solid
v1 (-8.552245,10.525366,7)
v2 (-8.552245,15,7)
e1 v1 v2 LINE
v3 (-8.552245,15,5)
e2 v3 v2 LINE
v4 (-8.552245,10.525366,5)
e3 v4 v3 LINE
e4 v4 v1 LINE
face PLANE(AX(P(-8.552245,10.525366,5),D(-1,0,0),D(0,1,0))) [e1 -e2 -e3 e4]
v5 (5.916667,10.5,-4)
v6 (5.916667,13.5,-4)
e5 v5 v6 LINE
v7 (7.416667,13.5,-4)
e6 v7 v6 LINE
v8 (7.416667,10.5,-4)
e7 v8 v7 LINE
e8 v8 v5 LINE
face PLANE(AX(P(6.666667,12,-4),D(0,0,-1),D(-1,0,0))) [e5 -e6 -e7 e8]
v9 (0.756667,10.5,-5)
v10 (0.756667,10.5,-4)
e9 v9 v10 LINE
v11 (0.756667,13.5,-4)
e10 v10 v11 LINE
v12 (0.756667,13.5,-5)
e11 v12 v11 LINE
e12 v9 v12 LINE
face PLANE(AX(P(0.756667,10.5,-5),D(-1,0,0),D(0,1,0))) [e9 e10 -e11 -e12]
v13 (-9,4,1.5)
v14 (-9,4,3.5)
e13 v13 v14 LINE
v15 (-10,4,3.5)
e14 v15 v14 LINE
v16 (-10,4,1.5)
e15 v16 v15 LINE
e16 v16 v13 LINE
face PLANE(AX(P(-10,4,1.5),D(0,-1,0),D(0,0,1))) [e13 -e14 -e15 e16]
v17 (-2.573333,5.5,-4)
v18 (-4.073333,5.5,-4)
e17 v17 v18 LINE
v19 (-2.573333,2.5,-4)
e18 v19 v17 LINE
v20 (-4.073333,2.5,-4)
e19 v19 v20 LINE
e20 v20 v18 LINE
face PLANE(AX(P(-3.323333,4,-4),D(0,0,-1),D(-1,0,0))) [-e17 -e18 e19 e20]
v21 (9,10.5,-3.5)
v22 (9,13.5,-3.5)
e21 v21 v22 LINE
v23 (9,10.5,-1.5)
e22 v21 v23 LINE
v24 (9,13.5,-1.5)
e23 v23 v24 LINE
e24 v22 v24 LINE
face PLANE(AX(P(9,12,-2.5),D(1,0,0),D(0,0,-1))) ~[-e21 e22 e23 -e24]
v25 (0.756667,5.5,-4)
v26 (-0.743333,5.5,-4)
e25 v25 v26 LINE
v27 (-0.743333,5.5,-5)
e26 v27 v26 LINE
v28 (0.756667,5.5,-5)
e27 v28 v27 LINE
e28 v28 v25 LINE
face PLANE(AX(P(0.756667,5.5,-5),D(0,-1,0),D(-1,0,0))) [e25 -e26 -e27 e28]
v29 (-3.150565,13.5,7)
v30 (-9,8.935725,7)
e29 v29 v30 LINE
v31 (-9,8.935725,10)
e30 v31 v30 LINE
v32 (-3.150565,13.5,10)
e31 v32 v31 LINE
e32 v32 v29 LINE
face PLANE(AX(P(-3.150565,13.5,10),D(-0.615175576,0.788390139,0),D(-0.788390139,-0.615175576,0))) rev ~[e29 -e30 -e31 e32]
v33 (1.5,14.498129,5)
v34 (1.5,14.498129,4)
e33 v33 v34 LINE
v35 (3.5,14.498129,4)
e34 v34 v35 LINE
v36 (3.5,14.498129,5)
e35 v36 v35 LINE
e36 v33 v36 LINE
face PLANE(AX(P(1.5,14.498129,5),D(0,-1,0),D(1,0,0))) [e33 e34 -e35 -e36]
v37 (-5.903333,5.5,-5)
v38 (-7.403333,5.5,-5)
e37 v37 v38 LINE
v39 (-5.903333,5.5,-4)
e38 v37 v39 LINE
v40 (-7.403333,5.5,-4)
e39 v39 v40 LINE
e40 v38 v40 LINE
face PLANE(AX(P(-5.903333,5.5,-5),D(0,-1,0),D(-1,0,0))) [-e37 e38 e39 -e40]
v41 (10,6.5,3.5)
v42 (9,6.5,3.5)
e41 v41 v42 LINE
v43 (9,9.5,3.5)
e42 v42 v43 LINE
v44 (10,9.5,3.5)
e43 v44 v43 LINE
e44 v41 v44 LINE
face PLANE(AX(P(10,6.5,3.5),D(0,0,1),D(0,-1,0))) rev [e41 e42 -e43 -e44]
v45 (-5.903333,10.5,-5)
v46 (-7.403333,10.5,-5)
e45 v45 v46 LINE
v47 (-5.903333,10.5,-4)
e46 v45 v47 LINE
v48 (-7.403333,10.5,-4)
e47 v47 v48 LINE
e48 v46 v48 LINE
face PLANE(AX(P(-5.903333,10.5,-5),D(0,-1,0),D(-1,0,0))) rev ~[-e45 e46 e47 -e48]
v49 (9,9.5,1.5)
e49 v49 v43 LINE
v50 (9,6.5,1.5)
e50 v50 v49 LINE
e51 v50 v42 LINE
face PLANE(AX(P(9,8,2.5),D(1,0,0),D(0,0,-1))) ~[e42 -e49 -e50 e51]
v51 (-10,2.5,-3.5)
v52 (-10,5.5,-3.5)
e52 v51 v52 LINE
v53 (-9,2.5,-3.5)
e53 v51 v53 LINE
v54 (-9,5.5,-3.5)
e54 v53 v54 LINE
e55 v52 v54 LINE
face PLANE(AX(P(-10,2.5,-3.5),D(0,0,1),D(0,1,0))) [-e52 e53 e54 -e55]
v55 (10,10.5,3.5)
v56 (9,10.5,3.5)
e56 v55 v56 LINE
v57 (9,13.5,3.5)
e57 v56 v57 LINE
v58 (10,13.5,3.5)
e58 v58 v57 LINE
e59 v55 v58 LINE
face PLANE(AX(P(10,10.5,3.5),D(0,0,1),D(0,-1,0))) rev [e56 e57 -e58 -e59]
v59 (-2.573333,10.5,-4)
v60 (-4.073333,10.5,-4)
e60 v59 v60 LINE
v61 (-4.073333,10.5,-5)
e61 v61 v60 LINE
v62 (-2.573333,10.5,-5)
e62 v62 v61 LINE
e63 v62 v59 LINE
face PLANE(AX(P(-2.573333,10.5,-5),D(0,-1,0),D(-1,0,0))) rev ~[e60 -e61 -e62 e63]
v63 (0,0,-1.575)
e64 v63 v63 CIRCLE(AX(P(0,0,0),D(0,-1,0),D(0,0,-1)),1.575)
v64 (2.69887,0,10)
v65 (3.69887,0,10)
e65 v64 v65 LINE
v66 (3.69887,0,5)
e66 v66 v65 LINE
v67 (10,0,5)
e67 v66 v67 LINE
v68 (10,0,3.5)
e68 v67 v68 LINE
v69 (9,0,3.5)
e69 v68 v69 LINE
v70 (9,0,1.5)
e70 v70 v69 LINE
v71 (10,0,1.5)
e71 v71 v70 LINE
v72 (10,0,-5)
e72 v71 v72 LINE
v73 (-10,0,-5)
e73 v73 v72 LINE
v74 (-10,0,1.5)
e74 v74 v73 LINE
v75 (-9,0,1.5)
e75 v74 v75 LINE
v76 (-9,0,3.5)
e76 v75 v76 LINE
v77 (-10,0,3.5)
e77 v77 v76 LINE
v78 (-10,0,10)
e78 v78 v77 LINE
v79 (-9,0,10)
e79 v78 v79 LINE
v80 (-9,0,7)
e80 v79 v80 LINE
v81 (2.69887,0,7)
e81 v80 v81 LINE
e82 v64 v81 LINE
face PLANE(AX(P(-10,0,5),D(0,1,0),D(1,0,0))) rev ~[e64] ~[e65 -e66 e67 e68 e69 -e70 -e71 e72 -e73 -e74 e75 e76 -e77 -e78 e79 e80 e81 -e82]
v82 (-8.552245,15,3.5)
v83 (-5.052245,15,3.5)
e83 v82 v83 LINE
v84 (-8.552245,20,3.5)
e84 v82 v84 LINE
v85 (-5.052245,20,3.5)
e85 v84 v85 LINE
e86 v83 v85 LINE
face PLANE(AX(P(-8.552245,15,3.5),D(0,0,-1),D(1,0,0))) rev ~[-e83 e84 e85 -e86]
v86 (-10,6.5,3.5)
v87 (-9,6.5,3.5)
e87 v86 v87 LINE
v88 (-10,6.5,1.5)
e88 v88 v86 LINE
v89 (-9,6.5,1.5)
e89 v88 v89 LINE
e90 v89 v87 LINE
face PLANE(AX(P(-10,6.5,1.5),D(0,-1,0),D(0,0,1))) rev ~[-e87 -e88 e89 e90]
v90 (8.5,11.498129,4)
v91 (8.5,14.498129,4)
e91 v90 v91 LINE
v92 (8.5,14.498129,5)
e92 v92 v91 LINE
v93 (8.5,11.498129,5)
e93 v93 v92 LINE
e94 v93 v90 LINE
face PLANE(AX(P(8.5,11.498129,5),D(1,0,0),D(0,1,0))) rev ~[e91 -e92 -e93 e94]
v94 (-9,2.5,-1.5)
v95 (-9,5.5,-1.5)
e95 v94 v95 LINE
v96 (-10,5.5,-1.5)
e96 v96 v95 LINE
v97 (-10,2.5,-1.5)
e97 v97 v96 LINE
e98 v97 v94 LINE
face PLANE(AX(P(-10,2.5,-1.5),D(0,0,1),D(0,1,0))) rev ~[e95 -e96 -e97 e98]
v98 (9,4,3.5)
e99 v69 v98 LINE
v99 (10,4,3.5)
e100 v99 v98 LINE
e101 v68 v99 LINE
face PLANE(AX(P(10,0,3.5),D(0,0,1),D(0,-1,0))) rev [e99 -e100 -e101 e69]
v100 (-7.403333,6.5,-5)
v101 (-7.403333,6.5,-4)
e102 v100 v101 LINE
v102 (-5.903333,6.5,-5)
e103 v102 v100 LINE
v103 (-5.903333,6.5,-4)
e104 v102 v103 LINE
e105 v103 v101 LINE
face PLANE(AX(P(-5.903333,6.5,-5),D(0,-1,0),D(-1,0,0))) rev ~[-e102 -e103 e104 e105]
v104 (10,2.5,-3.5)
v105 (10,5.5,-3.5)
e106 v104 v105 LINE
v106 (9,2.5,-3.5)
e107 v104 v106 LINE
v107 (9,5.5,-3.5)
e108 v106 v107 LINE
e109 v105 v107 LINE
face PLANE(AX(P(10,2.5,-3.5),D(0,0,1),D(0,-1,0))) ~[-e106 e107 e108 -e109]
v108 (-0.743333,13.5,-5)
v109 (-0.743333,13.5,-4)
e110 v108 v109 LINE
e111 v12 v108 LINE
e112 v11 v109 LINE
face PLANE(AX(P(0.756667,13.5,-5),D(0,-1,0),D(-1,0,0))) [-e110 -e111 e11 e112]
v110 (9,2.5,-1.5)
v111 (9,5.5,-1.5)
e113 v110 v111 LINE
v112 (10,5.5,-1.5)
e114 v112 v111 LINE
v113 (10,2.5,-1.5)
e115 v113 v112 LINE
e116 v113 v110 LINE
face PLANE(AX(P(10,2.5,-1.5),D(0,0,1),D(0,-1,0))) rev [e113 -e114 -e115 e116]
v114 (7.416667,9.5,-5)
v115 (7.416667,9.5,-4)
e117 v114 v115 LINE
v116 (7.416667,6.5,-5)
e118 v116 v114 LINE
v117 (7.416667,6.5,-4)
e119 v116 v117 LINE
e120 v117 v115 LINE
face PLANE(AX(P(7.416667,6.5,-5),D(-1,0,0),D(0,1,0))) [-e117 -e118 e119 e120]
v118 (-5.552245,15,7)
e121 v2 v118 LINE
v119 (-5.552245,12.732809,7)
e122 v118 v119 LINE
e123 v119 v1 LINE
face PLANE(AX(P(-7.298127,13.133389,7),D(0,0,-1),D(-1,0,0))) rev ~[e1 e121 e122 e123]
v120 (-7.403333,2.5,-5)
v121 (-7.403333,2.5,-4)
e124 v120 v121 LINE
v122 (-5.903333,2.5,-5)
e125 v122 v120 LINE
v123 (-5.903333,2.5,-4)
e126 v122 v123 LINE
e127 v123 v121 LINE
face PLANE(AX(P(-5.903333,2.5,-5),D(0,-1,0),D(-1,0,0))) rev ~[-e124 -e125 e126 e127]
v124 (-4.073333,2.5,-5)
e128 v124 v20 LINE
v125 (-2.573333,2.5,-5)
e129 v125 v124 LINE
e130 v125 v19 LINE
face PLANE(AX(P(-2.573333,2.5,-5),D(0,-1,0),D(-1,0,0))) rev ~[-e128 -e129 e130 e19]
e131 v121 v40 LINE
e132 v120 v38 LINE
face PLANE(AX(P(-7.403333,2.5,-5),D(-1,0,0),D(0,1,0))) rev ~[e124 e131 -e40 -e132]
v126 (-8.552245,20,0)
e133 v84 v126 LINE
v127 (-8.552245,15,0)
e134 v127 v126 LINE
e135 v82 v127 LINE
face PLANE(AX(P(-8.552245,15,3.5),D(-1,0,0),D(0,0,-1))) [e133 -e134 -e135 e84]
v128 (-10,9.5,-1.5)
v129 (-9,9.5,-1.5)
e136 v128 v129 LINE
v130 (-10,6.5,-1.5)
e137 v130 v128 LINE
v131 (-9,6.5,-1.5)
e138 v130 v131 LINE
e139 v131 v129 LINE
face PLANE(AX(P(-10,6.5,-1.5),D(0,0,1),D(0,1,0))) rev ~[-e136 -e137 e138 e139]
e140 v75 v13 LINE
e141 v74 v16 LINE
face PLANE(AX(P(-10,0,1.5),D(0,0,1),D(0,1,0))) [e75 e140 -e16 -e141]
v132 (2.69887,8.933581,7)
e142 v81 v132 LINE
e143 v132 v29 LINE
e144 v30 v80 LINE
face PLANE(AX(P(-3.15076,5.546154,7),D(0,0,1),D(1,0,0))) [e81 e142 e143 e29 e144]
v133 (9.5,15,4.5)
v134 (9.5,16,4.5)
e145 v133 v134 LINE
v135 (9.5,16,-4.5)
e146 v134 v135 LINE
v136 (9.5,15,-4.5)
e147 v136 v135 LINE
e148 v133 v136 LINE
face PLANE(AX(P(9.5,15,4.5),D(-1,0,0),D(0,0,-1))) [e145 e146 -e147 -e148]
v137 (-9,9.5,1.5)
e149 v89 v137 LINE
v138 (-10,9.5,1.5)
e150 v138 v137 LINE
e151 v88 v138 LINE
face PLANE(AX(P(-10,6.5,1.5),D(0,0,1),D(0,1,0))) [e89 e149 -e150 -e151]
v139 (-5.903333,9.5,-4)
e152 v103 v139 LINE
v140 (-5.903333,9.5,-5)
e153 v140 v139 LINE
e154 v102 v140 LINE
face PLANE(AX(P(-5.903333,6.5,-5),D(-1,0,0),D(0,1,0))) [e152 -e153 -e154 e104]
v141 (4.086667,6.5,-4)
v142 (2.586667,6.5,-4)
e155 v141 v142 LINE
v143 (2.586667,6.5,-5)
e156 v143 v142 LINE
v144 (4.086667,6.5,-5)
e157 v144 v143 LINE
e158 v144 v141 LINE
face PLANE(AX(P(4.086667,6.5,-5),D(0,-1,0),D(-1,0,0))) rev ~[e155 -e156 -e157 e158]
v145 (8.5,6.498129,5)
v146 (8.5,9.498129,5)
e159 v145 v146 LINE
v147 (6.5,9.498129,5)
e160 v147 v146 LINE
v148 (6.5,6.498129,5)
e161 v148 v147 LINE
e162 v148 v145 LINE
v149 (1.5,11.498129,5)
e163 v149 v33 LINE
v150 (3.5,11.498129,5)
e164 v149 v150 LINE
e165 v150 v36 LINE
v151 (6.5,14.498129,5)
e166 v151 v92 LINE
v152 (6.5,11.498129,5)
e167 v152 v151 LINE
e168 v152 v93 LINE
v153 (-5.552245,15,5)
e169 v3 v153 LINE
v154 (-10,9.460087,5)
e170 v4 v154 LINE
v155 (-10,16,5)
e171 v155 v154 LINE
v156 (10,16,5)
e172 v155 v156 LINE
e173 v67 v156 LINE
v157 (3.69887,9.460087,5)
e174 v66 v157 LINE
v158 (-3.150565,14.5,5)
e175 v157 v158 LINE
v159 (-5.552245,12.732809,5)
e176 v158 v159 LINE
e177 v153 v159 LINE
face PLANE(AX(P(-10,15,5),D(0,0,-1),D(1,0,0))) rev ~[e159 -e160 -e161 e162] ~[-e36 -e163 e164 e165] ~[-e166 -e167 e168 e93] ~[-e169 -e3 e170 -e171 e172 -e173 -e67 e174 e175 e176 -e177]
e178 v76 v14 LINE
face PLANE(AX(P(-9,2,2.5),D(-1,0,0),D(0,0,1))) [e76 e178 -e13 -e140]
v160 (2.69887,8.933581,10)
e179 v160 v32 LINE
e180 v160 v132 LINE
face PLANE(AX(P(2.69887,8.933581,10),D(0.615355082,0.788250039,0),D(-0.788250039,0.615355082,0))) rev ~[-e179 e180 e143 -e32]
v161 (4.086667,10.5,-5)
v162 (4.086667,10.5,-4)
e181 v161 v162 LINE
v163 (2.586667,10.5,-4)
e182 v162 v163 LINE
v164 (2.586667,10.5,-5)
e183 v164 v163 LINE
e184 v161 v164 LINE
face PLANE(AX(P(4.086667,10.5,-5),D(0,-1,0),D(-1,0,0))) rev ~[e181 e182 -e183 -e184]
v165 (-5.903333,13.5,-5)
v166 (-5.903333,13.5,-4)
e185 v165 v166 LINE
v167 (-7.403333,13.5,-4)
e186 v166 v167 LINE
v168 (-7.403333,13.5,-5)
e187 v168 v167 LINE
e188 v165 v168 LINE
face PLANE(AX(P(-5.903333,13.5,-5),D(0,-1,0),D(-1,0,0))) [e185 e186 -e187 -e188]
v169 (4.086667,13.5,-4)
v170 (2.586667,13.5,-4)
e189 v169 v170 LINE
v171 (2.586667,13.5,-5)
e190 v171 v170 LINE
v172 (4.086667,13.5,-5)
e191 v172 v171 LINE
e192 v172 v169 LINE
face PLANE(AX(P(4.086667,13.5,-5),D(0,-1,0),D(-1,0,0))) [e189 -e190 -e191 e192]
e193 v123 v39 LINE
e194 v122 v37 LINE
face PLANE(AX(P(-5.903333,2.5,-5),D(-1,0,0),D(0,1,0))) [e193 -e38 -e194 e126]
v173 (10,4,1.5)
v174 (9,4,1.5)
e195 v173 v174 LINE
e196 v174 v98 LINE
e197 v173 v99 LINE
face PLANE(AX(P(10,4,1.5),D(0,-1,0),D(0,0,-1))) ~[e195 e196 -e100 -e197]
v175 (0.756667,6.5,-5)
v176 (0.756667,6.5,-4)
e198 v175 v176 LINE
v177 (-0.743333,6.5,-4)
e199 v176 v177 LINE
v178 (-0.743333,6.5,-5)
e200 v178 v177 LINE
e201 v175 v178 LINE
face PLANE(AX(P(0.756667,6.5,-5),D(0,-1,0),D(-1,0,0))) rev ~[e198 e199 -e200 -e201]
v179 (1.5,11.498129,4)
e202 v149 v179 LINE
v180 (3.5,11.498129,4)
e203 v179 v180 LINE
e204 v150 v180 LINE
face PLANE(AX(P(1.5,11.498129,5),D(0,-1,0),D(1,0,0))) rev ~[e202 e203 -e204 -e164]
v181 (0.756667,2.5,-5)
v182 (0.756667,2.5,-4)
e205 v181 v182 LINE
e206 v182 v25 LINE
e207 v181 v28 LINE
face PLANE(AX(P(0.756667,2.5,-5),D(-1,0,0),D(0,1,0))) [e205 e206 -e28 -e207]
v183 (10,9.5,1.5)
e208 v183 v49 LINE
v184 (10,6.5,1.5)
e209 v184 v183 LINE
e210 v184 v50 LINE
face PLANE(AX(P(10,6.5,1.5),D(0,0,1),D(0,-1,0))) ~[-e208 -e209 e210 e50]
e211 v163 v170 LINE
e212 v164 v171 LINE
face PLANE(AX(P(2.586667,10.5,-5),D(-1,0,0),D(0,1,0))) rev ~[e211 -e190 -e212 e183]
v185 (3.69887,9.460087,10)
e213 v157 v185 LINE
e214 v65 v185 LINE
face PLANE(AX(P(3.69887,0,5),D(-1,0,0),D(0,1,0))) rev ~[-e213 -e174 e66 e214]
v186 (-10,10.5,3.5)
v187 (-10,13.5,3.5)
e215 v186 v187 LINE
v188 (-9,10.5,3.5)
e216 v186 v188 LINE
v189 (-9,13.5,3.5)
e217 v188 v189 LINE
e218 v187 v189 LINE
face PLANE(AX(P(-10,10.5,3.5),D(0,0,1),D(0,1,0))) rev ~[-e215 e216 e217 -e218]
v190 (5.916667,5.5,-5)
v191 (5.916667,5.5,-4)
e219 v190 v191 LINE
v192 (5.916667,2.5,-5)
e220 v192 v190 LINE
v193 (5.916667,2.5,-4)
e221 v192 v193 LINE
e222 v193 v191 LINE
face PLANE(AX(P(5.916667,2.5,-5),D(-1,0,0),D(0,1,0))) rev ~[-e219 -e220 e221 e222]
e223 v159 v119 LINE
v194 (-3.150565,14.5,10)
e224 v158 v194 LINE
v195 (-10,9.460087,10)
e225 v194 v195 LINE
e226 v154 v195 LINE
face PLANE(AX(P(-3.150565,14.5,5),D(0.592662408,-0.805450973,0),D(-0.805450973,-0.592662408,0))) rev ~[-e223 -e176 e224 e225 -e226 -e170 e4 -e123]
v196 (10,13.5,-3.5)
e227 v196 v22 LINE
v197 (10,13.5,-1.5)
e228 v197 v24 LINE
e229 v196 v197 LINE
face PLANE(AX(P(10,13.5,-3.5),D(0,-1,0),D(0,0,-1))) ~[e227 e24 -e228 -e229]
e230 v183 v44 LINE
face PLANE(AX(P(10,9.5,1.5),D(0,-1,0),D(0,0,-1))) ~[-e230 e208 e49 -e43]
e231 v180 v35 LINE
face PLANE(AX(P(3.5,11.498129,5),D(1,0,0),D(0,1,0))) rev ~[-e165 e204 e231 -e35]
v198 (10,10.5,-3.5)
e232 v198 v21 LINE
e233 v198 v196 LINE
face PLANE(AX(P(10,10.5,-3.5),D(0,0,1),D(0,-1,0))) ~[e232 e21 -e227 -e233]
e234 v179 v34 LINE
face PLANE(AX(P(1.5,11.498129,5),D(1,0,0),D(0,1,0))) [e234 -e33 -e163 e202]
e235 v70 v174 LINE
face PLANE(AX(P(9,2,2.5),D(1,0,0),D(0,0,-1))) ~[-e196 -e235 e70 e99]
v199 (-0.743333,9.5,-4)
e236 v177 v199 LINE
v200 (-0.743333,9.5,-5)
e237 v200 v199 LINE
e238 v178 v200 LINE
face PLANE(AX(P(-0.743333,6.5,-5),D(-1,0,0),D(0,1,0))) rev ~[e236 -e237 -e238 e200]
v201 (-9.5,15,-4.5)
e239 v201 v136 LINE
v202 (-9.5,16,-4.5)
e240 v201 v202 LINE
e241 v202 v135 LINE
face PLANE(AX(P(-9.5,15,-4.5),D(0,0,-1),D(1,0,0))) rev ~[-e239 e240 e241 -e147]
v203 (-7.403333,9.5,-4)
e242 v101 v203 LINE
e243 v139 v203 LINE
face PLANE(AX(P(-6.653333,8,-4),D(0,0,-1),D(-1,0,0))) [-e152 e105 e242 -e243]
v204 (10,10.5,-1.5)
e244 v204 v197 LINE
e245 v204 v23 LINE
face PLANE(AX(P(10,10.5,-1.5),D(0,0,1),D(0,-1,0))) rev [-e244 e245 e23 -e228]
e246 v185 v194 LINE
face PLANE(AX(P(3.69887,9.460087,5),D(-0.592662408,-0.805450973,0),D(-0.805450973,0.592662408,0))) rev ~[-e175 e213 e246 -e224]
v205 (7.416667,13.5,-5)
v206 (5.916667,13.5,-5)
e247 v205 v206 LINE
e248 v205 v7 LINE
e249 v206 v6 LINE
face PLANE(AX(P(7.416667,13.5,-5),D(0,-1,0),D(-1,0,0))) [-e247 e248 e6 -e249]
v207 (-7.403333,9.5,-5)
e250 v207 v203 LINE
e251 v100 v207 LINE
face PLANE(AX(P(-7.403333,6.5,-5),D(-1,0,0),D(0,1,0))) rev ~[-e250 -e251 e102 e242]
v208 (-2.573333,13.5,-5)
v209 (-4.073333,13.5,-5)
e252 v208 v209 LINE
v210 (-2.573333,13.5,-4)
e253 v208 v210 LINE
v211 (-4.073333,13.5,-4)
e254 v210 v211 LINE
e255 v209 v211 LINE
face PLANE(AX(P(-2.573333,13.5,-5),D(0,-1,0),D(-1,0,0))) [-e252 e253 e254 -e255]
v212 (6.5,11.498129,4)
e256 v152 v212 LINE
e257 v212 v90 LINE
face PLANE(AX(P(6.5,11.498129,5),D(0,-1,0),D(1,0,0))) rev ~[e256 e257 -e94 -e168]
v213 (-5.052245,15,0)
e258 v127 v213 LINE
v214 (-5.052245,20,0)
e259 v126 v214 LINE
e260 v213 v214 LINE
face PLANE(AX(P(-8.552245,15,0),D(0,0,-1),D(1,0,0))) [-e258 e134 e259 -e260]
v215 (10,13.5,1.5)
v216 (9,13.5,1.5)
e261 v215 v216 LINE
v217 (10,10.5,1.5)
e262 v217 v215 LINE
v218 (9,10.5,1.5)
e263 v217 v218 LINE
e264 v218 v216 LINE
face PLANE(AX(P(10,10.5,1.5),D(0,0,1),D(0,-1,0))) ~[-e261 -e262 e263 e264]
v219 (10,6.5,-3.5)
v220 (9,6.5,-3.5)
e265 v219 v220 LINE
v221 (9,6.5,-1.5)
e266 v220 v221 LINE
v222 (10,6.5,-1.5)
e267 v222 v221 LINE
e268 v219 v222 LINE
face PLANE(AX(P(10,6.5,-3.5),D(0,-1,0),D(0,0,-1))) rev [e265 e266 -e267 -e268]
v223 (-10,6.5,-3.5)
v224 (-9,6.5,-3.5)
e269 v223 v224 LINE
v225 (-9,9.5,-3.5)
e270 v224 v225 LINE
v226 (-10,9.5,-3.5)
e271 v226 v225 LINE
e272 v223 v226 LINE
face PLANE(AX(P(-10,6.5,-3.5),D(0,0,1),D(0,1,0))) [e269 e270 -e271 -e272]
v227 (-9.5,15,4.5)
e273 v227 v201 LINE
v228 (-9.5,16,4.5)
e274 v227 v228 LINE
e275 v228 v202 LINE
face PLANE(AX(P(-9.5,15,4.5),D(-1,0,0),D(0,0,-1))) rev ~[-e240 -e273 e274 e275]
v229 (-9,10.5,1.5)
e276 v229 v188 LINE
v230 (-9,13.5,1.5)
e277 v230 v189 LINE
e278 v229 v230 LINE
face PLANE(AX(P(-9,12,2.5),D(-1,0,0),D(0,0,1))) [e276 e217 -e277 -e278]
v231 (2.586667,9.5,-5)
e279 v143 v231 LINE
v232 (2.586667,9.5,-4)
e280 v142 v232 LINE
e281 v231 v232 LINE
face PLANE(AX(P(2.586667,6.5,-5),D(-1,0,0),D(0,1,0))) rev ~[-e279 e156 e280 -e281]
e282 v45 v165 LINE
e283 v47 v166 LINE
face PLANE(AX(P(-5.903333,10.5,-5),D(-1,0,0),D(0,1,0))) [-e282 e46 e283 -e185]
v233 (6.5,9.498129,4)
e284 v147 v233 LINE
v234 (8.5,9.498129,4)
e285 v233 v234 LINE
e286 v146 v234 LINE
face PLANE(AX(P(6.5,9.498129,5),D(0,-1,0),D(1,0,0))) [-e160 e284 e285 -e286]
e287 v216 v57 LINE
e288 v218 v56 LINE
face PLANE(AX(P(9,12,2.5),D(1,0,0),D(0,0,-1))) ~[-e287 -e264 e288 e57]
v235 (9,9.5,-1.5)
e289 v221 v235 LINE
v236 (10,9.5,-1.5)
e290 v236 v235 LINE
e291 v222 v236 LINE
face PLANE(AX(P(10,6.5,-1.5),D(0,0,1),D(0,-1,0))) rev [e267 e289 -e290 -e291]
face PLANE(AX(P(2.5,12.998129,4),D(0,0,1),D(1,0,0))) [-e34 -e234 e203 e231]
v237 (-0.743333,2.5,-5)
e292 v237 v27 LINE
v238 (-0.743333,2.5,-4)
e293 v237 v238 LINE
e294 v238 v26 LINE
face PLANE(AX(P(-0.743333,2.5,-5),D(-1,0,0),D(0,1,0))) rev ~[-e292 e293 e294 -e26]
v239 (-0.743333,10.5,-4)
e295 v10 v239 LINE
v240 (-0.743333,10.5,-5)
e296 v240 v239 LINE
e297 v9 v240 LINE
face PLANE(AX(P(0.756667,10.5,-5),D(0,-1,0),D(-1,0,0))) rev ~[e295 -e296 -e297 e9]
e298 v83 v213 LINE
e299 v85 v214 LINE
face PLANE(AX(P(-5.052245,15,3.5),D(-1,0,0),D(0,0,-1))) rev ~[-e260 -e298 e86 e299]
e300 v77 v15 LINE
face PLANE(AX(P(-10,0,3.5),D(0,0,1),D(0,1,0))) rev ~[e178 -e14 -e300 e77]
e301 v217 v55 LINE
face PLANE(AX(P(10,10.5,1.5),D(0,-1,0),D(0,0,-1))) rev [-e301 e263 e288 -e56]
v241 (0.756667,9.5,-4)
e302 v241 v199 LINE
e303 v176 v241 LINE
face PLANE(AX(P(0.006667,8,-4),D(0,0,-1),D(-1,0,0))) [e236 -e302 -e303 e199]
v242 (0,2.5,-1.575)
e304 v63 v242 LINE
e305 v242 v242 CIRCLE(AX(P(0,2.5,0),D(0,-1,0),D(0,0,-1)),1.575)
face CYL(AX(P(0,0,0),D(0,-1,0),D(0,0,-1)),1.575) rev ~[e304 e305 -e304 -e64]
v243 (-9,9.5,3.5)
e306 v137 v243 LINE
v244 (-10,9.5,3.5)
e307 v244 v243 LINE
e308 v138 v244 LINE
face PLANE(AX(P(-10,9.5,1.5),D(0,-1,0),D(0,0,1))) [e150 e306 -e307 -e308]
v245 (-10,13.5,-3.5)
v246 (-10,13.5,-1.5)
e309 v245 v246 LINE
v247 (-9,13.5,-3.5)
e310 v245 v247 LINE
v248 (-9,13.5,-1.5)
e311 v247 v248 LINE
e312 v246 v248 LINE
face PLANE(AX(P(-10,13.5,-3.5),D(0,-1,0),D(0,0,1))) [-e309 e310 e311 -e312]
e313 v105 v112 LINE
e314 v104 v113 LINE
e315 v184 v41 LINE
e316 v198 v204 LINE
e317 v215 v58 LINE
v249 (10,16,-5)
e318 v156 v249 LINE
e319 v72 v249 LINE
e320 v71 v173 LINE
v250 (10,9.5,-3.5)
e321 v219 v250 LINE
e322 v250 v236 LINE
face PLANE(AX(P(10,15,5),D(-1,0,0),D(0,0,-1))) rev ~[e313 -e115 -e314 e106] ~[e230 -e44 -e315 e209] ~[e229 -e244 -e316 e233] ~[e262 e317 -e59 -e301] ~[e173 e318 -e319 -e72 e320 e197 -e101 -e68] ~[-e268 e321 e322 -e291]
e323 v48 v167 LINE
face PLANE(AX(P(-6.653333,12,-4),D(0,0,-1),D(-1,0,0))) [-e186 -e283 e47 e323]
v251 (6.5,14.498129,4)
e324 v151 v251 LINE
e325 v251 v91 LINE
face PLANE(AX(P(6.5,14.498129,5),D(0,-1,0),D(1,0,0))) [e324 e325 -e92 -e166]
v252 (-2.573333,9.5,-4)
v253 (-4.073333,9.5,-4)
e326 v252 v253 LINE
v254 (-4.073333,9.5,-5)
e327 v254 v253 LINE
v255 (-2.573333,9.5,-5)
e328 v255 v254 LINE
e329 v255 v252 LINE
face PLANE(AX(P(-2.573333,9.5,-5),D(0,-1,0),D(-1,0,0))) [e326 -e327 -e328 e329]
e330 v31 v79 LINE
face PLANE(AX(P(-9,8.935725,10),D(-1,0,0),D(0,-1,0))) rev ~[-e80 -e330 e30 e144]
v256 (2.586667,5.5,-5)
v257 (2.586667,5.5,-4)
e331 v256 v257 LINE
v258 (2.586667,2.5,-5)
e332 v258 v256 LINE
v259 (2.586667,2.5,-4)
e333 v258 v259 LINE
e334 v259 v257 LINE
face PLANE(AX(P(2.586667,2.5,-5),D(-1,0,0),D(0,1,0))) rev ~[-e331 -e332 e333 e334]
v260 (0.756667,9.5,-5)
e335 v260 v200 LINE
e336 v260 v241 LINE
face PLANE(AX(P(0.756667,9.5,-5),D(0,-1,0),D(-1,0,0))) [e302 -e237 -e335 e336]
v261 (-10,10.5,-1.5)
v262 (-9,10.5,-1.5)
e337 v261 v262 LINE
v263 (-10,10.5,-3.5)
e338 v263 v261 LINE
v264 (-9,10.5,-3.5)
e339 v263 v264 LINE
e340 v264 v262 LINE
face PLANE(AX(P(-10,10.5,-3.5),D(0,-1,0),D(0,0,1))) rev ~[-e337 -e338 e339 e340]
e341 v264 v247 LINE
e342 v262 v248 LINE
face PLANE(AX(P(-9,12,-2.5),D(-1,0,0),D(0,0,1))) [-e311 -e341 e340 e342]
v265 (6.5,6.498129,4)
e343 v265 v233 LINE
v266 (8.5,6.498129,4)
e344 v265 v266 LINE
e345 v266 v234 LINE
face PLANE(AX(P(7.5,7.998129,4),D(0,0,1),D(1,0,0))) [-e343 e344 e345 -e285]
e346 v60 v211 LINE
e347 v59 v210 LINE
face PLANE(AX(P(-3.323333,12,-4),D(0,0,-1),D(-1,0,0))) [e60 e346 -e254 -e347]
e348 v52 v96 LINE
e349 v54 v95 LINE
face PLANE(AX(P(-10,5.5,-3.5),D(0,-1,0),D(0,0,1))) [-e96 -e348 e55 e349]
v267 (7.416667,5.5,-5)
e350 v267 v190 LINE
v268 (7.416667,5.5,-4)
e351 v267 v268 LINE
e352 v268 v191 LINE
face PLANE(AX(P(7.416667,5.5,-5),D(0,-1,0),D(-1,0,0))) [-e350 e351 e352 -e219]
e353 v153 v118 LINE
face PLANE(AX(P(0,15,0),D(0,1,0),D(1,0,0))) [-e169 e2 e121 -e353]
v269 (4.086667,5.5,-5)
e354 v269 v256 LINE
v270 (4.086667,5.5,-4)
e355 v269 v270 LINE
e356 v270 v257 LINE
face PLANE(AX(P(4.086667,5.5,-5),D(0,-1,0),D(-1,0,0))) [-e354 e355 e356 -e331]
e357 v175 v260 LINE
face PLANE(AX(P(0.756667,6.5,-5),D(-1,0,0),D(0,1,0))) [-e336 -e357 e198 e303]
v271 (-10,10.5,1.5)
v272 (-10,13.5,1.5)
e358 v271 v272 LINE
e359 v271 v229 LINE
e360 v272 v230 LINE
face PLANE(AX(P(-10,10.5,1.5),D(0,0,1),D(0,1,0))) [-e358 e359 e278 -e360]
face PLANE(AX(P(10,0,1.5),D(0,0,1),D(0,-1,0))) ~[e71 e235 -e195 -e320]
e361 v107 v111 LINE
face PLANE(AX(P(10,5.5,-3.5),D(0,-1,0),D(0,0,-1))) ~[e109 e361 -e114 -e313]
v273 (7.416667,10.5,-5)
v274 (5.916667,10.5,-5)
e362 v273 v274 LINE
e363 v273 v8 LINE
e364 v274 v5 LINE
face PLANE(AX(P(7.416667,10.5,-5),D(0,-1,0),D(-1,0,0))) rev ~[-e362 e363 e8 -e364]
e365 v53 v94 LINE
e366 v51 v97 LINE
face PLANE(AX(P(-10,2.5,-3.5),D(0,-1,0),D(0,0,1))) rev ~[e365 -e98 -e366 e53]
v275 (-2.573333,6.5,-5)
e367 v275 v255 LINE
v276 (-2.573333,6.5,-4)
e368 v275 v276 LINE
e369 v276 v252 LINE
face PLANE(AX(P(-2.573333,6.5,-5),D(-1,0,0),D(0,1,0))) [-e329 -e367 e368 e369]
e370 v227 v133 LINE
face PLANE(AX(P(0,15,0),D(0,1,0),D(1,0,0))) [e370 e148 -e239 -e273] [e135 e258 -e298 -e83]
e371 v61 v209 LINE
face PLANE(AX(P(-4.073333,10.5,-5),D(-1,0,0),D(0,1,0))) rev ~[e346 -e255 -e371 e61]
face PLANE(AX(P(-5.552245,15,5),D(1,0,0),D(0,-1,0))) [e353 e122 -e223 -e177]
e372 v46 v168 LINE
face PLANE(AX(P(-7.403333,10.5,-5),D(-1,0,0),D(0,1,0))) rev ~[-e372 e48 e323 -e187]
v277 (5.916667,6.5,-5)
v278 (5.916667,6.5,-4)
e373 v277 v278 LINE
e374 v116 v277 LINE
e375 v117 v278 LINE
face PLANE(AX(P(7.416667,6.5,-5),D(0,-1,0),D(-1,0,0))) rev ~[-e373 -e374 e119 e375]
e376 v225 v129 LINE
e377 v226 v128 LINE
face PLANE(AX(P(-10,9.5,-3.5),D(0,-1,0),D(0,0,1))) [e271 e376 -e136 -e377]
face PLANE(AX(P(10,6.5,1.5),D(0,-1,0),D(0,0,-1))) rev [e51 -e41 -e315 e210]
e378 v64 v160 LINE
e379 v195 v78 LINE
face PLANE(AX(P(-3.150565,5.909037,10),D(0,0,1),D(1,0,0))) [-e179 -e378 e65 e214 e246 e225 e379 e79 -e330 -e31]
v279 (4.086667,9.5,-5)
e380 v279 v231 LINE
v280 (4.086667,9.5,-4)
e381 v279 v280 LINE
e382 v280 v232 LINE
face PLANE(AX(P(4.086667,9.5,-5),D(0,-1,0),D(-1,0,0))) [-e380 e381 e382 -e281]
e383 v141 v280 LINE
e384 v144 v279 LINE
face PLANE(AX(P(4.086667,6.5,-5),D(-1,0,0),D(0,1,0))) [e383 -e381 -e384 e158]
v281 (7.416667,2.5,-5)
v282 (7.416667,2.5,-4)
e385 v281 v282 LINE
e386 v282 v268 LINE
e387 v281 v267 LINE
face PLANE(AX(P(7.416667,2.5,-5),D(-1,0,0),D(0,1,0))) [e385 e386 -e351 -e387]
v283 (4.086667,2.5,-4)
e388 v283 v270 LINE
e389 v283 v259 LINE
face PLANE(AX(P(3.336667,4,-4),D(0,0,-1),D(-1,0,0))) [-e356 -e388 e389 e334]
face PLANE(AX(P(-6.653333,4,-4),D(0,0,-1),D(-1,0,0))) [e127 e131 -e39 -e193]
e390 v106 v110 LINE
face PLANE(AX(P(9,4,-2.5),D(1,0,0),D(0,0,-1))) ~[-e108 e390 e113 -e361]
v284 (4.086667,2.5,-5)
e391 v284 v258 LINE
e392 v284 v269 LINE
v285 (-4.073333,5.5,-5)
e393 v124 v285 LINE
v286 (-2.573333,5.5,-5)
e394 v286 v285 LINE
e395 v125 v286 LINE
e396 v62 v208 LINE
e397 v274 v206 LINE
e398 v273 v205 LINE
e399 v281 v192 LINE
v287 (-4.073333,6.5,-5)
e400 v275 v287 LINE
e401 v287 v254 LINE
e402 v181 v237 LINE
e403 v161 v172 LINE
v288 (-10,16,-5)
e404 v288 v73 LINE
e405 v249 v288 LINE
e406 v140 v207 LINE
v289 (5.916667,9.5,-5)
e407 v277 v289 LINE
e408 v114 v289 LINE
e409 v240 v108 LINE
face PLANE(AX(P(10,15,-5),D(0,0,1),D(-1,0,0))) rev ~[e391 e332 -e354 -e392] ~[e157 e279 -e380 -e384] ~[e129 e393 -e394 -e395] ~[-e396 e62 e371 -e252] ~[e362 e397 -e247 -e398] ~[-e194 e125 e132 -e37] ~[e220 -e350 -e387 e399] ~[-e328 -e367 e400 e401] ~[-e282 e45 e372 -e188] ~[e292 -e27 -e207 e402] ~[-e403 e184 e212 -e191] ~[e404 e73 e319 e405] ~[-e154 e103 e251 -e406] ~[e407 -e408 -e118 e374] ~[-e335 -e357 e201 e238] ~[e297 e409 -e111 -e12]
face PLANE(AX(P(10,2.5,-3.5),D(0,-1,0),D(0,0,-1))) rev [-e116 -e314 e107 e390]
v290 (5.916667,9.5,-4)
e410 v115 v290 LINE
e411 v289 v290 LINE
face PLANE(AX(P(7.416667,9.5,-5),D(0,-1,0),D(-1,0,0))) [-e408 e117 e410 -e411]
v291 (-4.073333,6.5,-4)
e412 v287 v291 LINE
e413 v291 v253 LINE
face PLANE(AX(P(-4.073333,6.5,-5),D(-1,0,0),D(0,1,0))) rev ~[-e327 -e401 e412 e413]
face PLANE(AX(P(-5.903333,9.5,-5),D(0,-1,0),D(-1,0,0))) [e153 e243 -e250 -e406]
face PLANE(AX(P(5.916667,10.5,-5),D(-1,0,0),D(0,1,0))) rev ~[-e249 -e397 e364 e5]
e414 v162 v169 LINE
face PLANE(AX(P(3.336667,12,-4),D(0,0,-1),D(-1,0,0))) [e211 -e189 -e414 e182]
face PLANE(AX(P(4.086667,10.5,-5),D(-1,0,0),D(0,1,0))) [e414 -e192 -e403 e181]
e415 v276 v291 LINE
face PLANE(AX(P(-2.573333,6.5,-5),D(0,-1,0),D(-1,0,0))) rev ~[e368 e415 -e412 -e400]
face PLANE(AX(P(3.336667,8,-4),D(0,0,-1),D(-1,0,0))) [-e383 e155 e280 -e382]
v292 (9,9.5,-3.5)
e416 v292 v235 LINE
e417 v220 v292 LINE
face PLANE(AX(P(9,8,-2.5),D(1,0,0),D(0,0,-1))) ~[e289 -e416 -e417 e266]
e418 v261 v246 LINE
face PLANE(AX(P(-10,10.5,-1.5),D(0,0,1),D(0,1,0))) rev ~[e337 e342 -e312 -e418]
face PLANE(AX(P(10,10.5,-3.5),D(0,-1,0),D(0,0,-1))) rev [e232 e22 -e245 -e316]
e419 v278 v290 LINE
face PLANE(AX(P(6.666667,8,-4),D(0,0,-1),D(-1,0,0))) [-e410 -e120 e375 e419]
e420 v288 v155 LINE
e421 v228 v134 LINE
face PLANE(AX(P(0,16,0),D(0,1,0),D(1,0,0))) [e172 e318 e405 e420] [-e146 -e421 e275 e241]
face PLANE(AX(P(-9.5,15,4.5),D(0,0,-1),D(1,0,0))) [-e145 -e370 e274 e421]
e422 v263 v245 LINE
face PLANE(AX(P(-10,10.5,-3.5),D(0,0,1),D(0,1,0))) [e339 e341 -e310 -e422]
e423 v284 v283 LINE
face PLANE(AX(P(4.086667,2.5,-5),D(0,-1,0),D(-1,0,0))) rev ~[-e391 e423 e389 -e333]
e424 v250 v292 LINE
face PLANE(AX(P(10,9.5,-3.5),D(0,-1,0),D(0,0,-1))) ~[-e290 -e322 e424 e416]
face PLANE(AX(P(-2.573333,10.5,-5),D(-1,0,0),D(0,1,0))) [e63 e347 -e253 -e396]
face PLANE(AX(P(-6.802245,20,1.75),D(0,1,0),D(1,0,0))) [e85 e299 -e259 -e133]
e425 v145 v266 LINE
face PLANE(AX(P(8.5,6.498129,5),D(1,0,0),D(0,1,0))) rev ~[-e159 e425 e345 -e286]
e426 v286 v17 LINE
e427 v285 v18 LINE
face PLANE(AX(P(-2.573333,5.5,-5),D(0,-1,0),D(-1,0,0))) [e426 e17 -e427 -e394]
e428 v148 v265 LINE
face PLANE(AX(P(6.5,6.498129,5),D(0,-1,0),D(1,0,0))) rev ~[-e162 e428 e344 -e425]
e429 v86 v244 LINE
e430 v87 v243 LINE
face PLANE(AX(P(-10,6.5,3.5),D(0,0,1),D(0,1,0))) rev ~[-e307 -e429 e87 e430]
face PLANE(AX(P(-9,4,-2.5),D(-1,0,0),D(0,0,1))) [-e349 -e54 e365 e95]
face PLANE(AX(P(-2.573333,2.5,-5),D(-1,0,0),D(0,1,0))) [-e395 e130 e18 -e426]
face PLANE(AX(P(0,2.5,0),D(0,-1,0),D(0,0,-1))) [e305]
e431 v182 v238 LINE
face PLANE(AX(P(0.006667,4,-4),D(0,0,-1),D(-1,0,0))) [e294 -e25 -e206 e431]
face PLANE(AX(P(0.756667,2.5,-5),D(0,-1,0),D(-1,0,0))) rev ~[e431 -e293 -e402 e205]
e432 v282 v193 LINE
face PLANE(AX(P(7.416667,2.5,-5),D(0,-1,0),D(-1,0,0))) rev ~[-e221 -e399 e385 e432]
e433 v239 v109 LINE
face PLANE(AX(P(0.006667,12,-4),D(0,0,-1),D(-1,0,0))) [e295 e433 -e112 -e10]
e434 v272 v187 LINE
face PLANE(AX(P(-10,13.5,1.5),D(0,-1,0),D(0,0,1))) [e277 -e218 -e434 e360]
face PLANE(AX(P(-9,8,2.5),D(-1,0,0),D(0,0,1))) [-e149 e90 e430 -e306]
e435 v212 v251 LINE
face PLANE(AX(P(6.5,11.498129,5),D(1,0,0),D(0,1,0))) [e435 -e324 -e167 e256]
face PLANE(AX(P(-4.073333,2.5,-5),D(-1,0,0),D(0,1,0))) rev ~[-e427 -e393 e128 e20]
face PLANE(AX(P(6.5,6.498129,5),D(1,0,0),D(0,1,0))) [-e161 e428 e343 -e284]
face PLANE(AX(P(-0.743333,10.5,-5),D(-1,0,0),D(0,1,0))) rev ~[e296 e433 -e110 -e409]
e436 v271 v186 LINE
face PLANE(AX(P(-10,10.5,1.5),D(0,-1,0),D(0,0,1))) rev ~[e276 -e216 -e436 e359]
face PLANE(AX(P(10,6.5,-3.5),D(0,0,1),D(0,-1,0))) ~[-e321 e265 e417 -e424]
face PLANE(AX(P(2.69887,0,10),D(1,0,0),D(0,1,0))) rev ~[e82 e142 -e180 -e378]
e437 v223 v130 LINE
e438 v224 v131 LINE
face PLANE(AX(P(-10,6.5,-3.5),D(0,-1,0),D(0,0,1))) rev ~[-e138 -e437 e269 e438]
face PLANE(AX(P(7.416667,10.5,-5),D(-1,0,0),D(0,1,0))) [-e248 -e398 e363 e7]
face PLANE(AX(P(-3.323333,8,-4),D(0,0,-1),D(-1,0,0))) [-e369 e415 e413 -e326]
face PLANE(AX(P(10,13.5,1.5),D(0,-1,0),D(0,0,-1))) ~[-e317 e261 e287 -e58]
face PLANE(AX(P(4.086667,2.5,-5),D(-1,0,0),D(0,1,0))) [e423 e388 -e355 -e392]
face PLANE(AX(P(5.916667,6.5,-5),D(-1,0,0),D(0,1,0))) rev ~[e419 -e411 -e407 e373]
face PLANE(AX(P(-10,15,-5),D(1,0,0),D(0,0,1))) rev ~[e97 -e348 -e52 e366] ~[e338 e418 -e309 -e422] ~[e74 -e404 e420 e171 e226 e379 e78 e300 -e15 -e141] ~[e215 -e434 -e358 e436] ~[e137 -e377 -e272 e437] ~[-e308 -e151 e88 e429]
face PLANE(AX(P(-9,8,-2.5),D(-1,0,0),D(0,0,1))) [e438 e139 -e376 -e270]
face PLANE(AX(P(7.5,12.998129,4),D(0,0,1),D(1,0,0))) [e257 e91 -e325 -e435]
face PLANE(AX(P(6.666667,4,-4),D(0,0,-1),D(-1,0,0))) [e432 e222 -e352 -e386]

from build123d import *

# Parameters (mm, degrees)
CROQUIS1_W              = 20
CROQUIS1_H              = 10
SALIENTE_EXTRUIR1_DEPTH = 15
SALIENTE_EXTRUIR2_DEPTH = 5
SALIENTE_EXTRUIR3_DEPTH = 2
CROQUIS4_W              = 19
CROQUIS4_H              = 9
SALIENTE_EXTRUIR4_DEPTH = 1
CROQUIS4_3_W            = 3.5
CROQUIS4_3_H            = 3.5
SALIENTE_EXTRUIR5_DEPTH = 5
CROQUIS5_R              = 1.575
CORTAR_EXTRUIR1_DEPTH   = 2.5
CORTAR_EXTRUIR2_DEPTH   = 3
CROQUIS7_W              = 2
CROQUIS7_H              = 3
CORTAR_EXTRUIR3_DEPTH   = 1
CROQUIS8_W              = 2
CROQUIS8_H              = 4
CROQUIS8_H_2            = 3
CORTAR_EXTRUIR4_DEPTH   = 1
CROQUIS9_W              = 1.5
CROQUIS9_H              = 3
CORTAR_EXTRUIR5_DEPTH   = 1


with BuildPart() as part:
    # Croquis1 → Saliente-Extruir1 (new body)
    with BuildSketch(Plane(origin=(0, 0, 0), x_dir=(1, 0, 0), z_dir=(0, 1, 0))):
        Rectangle(CROQUIS1_W, CROQUIS1_H)
    extrude(amount=SALIENTE_EXTRUIR1_DEPTH)

    # Croquis2 → Saliente-Extruir2 (add)
    with BuildSketch(Plane.XY.offset(5)):
        Polygon((-10, 0), (3.69887005, 0), (3.69887005, 9.460087219), (-3.150564975, 14.5), (-10, 9.460087219), align=None)
    extrude(amount=SALIENTE_EXTRUIR2_DEPTH)

    # Croquis3 → Saliente-Extruir3 (add)
    with BuildSketch(Plane.XY.offset(5)):
        Polygon((-8.552244838, 10.525366285), (-8.552244838, 15), (-5.552244838, 15), (-5.552244838, 12.732809422), align=None)
    extrude(amount=SALIENTE_EXTRUIR3_DEPTH)

    # Croquis4 → Saliente-Extruir4 (add)
    with BuildSketch(Plane(origin=(0, 15, 0), x_dir=(1, 0, 0), z_dir=(0, 1, 0))):
        Polygon((-10, 4.5), (-10, -4.5), (-10, -5), (-9.5, -5), (-8.552244838, -5), (-5.552244838, -5), (9.5, -5), (10, -5), (10, -4.5), (10, 4.5), (10, 5), (9.5, 5), (-9.5, 5), (-10, 5), align=None)
        Rectangle(CROQUIS4_W, CROQUIS4_H, mode=Mode.SUBTRACT)
    extrude(amount=SALIENTE_EXTRUIR4_DEPTH)

    # Croquis4<3> → Saliente-Extruir5 (add)
    with BuildSketch(Plane(origin=(0, 15, 0), x_dir=(1, 0, 0), z_dir=(0, 1, 0))):
        with Locations((-6.802244838, -1.75)):
            Rectangle(CROQUIS4_3_W, CROQUIS4_3_H)
    extrude(amount=SALIENTE_EXTRUIR5_DEPTH)

    # Croquis5 → Cortar-Extruir1 (cut)
    with BuildSketch(Plane.XZ):
        Circle(CROQUIS5_R)
    extrude(amount=-CORTAR_EXTRUIR1_DEPTH, mode=Mode.SUBTRACT)

    # Croquis6 → Cortar-Extruir2 (cut)
    with BuildSketch(Plane.XY.offset(10)):
        Polygon((-9, 8.935724798), (-9, 0), (2.69887005, 0), (2.69887005, 8.933581491), (-3.150564975, 13.5), align=None)
    extrude(amount=-CORTAR_EXTRUIR2_DEPTH, mode=Mode.SUBTRACT)

    # Croquis7 → Cortar-Extruir3 (cut)
    with BuildSketch(Plane.XY.offset(5)):
        with Locations((2.5, 12.998129378)):
            Rectangle(CROQUIS7_W, CROQUIS7_H)
        with Locations((7.5, 12.998129378)):
            Rectangle(CROQUIS7_W, CROQUIS7_H)
        with Locations((7.5, 7.998129378)):
            Rectangle(CROQUIS7_W, CROQUIS7_H)
    extrude(amount=-CORTAR_EXTRUIR3_DEPTH, mode=Mode.SUBTRACT)

    # Croquis8 → Cortar-Extruir4 (cut)
    with BuildSketch(Plane.ZY.offset(10)):
        with Locations((2.5, 2)):
            Rectangle(CROQUIS8_W, CROQUIS8_H)
        with Locations((-2.5, 4)):
            Rectangle(CROQUIS8_W, CROQUIS8_H_2)
        with Locations((-2.5, 8)):
            Rectangle(CROQUIS8_W, CROQUIS8_H_2)
        with Locations((-2.5, 12)):
            Rectangle(CROQUIS8_W, CROQUIS8_H_2)
        with Locations((2.5, 12)):
            Rectangle(CROQUIS8_W, CROQUIS8_H_2)
        with Locations((2.5, 8)):
            Rectangle(CROQUIS8_W, CROQUIS8_H_2)
    cortar_extruir4 = extrude(amount=-CORTAR_EXTRUIR4_DEPTH, mode=Mode.SUBTRACT)

    # Croquis9 → Cortar-Extruir5 (cut)
    with BuildSketch(Plane(origin=(0, 0, -5), x_dir=(-1, 0, 0), z_dir=(0, 0, -1))):
        with Locations((-3.336666667, 4)):
            Rectangle(CROQUIS9_W, CROQUIS9_H)
        with Locations((-6.666666667, 4)):
            Rectangle(CROQUIS9_W, CROQUIS9_H)
        with Locations((-0.006666667, 4)):
            Rectangle(CROQUIS9_W, CROQUIS9_H)
        with Locations((3.323333333, 4)):
            Rectangle(CROQUIS9_W, CROQUIS9_H)
        with Locations((6.653333333, 4)):
            Rectangle(CROQUIS9_W, CROQUIS9_H)
        with Locations((-3.336666667, 8)):
            Rectangle(CROQUIS9_W, CROQUIS9_H)
        with Locations((-0.006666667, 8)):
            Rectangle(CROQUIS9_W, CROQUIS9_H)
        with Locations((3.323333333, 8)):
            Rectangle(CROQUIS9_W, CROQUIS9_H)
        with Locations((6.653333333, 8)):
            Rectangle(CROQUIS9_W, CROQUIS9_H)
        with Locations((-3.336666667, 12)):
            Rectangle(CROQUIS9_W, CROQUIS9_H)
        with Locations((-0.006666667, 12)):
            Rectangle(CROQUIS9_W, CROQUIS9_H)
        with Locations((3.323333333, 12)):
            Rectangle(CROQUIS9_W, CROQUIS9_H)
        with Locations((6.653333333, 12)):
            Rectangle(CROQUIS9_W, CROQUIS9_H)
        with Locations((-6.666666667, 8)):
            Rectangle(CROQUIS9_W, CROQUIS9_H)
        with Locations((-6.666666667, 12)):
            Rectangle(CROQUIS9_W, CROQUIS9_H)
    extrude(amount=-CORTAR_EXTRUIR5_DEPTH, mode=Mode.SUBTRACT)

    # Simetría1: Cortar-Extruir4 across plane
    add(cortar_extruir4.mirror(Plane(origin=(0, 0, 0), x_dir=(0, 0, 1), z_dir=(1, 0, 0))), mode=Mode.SUBTRACT)


solid = part.part
